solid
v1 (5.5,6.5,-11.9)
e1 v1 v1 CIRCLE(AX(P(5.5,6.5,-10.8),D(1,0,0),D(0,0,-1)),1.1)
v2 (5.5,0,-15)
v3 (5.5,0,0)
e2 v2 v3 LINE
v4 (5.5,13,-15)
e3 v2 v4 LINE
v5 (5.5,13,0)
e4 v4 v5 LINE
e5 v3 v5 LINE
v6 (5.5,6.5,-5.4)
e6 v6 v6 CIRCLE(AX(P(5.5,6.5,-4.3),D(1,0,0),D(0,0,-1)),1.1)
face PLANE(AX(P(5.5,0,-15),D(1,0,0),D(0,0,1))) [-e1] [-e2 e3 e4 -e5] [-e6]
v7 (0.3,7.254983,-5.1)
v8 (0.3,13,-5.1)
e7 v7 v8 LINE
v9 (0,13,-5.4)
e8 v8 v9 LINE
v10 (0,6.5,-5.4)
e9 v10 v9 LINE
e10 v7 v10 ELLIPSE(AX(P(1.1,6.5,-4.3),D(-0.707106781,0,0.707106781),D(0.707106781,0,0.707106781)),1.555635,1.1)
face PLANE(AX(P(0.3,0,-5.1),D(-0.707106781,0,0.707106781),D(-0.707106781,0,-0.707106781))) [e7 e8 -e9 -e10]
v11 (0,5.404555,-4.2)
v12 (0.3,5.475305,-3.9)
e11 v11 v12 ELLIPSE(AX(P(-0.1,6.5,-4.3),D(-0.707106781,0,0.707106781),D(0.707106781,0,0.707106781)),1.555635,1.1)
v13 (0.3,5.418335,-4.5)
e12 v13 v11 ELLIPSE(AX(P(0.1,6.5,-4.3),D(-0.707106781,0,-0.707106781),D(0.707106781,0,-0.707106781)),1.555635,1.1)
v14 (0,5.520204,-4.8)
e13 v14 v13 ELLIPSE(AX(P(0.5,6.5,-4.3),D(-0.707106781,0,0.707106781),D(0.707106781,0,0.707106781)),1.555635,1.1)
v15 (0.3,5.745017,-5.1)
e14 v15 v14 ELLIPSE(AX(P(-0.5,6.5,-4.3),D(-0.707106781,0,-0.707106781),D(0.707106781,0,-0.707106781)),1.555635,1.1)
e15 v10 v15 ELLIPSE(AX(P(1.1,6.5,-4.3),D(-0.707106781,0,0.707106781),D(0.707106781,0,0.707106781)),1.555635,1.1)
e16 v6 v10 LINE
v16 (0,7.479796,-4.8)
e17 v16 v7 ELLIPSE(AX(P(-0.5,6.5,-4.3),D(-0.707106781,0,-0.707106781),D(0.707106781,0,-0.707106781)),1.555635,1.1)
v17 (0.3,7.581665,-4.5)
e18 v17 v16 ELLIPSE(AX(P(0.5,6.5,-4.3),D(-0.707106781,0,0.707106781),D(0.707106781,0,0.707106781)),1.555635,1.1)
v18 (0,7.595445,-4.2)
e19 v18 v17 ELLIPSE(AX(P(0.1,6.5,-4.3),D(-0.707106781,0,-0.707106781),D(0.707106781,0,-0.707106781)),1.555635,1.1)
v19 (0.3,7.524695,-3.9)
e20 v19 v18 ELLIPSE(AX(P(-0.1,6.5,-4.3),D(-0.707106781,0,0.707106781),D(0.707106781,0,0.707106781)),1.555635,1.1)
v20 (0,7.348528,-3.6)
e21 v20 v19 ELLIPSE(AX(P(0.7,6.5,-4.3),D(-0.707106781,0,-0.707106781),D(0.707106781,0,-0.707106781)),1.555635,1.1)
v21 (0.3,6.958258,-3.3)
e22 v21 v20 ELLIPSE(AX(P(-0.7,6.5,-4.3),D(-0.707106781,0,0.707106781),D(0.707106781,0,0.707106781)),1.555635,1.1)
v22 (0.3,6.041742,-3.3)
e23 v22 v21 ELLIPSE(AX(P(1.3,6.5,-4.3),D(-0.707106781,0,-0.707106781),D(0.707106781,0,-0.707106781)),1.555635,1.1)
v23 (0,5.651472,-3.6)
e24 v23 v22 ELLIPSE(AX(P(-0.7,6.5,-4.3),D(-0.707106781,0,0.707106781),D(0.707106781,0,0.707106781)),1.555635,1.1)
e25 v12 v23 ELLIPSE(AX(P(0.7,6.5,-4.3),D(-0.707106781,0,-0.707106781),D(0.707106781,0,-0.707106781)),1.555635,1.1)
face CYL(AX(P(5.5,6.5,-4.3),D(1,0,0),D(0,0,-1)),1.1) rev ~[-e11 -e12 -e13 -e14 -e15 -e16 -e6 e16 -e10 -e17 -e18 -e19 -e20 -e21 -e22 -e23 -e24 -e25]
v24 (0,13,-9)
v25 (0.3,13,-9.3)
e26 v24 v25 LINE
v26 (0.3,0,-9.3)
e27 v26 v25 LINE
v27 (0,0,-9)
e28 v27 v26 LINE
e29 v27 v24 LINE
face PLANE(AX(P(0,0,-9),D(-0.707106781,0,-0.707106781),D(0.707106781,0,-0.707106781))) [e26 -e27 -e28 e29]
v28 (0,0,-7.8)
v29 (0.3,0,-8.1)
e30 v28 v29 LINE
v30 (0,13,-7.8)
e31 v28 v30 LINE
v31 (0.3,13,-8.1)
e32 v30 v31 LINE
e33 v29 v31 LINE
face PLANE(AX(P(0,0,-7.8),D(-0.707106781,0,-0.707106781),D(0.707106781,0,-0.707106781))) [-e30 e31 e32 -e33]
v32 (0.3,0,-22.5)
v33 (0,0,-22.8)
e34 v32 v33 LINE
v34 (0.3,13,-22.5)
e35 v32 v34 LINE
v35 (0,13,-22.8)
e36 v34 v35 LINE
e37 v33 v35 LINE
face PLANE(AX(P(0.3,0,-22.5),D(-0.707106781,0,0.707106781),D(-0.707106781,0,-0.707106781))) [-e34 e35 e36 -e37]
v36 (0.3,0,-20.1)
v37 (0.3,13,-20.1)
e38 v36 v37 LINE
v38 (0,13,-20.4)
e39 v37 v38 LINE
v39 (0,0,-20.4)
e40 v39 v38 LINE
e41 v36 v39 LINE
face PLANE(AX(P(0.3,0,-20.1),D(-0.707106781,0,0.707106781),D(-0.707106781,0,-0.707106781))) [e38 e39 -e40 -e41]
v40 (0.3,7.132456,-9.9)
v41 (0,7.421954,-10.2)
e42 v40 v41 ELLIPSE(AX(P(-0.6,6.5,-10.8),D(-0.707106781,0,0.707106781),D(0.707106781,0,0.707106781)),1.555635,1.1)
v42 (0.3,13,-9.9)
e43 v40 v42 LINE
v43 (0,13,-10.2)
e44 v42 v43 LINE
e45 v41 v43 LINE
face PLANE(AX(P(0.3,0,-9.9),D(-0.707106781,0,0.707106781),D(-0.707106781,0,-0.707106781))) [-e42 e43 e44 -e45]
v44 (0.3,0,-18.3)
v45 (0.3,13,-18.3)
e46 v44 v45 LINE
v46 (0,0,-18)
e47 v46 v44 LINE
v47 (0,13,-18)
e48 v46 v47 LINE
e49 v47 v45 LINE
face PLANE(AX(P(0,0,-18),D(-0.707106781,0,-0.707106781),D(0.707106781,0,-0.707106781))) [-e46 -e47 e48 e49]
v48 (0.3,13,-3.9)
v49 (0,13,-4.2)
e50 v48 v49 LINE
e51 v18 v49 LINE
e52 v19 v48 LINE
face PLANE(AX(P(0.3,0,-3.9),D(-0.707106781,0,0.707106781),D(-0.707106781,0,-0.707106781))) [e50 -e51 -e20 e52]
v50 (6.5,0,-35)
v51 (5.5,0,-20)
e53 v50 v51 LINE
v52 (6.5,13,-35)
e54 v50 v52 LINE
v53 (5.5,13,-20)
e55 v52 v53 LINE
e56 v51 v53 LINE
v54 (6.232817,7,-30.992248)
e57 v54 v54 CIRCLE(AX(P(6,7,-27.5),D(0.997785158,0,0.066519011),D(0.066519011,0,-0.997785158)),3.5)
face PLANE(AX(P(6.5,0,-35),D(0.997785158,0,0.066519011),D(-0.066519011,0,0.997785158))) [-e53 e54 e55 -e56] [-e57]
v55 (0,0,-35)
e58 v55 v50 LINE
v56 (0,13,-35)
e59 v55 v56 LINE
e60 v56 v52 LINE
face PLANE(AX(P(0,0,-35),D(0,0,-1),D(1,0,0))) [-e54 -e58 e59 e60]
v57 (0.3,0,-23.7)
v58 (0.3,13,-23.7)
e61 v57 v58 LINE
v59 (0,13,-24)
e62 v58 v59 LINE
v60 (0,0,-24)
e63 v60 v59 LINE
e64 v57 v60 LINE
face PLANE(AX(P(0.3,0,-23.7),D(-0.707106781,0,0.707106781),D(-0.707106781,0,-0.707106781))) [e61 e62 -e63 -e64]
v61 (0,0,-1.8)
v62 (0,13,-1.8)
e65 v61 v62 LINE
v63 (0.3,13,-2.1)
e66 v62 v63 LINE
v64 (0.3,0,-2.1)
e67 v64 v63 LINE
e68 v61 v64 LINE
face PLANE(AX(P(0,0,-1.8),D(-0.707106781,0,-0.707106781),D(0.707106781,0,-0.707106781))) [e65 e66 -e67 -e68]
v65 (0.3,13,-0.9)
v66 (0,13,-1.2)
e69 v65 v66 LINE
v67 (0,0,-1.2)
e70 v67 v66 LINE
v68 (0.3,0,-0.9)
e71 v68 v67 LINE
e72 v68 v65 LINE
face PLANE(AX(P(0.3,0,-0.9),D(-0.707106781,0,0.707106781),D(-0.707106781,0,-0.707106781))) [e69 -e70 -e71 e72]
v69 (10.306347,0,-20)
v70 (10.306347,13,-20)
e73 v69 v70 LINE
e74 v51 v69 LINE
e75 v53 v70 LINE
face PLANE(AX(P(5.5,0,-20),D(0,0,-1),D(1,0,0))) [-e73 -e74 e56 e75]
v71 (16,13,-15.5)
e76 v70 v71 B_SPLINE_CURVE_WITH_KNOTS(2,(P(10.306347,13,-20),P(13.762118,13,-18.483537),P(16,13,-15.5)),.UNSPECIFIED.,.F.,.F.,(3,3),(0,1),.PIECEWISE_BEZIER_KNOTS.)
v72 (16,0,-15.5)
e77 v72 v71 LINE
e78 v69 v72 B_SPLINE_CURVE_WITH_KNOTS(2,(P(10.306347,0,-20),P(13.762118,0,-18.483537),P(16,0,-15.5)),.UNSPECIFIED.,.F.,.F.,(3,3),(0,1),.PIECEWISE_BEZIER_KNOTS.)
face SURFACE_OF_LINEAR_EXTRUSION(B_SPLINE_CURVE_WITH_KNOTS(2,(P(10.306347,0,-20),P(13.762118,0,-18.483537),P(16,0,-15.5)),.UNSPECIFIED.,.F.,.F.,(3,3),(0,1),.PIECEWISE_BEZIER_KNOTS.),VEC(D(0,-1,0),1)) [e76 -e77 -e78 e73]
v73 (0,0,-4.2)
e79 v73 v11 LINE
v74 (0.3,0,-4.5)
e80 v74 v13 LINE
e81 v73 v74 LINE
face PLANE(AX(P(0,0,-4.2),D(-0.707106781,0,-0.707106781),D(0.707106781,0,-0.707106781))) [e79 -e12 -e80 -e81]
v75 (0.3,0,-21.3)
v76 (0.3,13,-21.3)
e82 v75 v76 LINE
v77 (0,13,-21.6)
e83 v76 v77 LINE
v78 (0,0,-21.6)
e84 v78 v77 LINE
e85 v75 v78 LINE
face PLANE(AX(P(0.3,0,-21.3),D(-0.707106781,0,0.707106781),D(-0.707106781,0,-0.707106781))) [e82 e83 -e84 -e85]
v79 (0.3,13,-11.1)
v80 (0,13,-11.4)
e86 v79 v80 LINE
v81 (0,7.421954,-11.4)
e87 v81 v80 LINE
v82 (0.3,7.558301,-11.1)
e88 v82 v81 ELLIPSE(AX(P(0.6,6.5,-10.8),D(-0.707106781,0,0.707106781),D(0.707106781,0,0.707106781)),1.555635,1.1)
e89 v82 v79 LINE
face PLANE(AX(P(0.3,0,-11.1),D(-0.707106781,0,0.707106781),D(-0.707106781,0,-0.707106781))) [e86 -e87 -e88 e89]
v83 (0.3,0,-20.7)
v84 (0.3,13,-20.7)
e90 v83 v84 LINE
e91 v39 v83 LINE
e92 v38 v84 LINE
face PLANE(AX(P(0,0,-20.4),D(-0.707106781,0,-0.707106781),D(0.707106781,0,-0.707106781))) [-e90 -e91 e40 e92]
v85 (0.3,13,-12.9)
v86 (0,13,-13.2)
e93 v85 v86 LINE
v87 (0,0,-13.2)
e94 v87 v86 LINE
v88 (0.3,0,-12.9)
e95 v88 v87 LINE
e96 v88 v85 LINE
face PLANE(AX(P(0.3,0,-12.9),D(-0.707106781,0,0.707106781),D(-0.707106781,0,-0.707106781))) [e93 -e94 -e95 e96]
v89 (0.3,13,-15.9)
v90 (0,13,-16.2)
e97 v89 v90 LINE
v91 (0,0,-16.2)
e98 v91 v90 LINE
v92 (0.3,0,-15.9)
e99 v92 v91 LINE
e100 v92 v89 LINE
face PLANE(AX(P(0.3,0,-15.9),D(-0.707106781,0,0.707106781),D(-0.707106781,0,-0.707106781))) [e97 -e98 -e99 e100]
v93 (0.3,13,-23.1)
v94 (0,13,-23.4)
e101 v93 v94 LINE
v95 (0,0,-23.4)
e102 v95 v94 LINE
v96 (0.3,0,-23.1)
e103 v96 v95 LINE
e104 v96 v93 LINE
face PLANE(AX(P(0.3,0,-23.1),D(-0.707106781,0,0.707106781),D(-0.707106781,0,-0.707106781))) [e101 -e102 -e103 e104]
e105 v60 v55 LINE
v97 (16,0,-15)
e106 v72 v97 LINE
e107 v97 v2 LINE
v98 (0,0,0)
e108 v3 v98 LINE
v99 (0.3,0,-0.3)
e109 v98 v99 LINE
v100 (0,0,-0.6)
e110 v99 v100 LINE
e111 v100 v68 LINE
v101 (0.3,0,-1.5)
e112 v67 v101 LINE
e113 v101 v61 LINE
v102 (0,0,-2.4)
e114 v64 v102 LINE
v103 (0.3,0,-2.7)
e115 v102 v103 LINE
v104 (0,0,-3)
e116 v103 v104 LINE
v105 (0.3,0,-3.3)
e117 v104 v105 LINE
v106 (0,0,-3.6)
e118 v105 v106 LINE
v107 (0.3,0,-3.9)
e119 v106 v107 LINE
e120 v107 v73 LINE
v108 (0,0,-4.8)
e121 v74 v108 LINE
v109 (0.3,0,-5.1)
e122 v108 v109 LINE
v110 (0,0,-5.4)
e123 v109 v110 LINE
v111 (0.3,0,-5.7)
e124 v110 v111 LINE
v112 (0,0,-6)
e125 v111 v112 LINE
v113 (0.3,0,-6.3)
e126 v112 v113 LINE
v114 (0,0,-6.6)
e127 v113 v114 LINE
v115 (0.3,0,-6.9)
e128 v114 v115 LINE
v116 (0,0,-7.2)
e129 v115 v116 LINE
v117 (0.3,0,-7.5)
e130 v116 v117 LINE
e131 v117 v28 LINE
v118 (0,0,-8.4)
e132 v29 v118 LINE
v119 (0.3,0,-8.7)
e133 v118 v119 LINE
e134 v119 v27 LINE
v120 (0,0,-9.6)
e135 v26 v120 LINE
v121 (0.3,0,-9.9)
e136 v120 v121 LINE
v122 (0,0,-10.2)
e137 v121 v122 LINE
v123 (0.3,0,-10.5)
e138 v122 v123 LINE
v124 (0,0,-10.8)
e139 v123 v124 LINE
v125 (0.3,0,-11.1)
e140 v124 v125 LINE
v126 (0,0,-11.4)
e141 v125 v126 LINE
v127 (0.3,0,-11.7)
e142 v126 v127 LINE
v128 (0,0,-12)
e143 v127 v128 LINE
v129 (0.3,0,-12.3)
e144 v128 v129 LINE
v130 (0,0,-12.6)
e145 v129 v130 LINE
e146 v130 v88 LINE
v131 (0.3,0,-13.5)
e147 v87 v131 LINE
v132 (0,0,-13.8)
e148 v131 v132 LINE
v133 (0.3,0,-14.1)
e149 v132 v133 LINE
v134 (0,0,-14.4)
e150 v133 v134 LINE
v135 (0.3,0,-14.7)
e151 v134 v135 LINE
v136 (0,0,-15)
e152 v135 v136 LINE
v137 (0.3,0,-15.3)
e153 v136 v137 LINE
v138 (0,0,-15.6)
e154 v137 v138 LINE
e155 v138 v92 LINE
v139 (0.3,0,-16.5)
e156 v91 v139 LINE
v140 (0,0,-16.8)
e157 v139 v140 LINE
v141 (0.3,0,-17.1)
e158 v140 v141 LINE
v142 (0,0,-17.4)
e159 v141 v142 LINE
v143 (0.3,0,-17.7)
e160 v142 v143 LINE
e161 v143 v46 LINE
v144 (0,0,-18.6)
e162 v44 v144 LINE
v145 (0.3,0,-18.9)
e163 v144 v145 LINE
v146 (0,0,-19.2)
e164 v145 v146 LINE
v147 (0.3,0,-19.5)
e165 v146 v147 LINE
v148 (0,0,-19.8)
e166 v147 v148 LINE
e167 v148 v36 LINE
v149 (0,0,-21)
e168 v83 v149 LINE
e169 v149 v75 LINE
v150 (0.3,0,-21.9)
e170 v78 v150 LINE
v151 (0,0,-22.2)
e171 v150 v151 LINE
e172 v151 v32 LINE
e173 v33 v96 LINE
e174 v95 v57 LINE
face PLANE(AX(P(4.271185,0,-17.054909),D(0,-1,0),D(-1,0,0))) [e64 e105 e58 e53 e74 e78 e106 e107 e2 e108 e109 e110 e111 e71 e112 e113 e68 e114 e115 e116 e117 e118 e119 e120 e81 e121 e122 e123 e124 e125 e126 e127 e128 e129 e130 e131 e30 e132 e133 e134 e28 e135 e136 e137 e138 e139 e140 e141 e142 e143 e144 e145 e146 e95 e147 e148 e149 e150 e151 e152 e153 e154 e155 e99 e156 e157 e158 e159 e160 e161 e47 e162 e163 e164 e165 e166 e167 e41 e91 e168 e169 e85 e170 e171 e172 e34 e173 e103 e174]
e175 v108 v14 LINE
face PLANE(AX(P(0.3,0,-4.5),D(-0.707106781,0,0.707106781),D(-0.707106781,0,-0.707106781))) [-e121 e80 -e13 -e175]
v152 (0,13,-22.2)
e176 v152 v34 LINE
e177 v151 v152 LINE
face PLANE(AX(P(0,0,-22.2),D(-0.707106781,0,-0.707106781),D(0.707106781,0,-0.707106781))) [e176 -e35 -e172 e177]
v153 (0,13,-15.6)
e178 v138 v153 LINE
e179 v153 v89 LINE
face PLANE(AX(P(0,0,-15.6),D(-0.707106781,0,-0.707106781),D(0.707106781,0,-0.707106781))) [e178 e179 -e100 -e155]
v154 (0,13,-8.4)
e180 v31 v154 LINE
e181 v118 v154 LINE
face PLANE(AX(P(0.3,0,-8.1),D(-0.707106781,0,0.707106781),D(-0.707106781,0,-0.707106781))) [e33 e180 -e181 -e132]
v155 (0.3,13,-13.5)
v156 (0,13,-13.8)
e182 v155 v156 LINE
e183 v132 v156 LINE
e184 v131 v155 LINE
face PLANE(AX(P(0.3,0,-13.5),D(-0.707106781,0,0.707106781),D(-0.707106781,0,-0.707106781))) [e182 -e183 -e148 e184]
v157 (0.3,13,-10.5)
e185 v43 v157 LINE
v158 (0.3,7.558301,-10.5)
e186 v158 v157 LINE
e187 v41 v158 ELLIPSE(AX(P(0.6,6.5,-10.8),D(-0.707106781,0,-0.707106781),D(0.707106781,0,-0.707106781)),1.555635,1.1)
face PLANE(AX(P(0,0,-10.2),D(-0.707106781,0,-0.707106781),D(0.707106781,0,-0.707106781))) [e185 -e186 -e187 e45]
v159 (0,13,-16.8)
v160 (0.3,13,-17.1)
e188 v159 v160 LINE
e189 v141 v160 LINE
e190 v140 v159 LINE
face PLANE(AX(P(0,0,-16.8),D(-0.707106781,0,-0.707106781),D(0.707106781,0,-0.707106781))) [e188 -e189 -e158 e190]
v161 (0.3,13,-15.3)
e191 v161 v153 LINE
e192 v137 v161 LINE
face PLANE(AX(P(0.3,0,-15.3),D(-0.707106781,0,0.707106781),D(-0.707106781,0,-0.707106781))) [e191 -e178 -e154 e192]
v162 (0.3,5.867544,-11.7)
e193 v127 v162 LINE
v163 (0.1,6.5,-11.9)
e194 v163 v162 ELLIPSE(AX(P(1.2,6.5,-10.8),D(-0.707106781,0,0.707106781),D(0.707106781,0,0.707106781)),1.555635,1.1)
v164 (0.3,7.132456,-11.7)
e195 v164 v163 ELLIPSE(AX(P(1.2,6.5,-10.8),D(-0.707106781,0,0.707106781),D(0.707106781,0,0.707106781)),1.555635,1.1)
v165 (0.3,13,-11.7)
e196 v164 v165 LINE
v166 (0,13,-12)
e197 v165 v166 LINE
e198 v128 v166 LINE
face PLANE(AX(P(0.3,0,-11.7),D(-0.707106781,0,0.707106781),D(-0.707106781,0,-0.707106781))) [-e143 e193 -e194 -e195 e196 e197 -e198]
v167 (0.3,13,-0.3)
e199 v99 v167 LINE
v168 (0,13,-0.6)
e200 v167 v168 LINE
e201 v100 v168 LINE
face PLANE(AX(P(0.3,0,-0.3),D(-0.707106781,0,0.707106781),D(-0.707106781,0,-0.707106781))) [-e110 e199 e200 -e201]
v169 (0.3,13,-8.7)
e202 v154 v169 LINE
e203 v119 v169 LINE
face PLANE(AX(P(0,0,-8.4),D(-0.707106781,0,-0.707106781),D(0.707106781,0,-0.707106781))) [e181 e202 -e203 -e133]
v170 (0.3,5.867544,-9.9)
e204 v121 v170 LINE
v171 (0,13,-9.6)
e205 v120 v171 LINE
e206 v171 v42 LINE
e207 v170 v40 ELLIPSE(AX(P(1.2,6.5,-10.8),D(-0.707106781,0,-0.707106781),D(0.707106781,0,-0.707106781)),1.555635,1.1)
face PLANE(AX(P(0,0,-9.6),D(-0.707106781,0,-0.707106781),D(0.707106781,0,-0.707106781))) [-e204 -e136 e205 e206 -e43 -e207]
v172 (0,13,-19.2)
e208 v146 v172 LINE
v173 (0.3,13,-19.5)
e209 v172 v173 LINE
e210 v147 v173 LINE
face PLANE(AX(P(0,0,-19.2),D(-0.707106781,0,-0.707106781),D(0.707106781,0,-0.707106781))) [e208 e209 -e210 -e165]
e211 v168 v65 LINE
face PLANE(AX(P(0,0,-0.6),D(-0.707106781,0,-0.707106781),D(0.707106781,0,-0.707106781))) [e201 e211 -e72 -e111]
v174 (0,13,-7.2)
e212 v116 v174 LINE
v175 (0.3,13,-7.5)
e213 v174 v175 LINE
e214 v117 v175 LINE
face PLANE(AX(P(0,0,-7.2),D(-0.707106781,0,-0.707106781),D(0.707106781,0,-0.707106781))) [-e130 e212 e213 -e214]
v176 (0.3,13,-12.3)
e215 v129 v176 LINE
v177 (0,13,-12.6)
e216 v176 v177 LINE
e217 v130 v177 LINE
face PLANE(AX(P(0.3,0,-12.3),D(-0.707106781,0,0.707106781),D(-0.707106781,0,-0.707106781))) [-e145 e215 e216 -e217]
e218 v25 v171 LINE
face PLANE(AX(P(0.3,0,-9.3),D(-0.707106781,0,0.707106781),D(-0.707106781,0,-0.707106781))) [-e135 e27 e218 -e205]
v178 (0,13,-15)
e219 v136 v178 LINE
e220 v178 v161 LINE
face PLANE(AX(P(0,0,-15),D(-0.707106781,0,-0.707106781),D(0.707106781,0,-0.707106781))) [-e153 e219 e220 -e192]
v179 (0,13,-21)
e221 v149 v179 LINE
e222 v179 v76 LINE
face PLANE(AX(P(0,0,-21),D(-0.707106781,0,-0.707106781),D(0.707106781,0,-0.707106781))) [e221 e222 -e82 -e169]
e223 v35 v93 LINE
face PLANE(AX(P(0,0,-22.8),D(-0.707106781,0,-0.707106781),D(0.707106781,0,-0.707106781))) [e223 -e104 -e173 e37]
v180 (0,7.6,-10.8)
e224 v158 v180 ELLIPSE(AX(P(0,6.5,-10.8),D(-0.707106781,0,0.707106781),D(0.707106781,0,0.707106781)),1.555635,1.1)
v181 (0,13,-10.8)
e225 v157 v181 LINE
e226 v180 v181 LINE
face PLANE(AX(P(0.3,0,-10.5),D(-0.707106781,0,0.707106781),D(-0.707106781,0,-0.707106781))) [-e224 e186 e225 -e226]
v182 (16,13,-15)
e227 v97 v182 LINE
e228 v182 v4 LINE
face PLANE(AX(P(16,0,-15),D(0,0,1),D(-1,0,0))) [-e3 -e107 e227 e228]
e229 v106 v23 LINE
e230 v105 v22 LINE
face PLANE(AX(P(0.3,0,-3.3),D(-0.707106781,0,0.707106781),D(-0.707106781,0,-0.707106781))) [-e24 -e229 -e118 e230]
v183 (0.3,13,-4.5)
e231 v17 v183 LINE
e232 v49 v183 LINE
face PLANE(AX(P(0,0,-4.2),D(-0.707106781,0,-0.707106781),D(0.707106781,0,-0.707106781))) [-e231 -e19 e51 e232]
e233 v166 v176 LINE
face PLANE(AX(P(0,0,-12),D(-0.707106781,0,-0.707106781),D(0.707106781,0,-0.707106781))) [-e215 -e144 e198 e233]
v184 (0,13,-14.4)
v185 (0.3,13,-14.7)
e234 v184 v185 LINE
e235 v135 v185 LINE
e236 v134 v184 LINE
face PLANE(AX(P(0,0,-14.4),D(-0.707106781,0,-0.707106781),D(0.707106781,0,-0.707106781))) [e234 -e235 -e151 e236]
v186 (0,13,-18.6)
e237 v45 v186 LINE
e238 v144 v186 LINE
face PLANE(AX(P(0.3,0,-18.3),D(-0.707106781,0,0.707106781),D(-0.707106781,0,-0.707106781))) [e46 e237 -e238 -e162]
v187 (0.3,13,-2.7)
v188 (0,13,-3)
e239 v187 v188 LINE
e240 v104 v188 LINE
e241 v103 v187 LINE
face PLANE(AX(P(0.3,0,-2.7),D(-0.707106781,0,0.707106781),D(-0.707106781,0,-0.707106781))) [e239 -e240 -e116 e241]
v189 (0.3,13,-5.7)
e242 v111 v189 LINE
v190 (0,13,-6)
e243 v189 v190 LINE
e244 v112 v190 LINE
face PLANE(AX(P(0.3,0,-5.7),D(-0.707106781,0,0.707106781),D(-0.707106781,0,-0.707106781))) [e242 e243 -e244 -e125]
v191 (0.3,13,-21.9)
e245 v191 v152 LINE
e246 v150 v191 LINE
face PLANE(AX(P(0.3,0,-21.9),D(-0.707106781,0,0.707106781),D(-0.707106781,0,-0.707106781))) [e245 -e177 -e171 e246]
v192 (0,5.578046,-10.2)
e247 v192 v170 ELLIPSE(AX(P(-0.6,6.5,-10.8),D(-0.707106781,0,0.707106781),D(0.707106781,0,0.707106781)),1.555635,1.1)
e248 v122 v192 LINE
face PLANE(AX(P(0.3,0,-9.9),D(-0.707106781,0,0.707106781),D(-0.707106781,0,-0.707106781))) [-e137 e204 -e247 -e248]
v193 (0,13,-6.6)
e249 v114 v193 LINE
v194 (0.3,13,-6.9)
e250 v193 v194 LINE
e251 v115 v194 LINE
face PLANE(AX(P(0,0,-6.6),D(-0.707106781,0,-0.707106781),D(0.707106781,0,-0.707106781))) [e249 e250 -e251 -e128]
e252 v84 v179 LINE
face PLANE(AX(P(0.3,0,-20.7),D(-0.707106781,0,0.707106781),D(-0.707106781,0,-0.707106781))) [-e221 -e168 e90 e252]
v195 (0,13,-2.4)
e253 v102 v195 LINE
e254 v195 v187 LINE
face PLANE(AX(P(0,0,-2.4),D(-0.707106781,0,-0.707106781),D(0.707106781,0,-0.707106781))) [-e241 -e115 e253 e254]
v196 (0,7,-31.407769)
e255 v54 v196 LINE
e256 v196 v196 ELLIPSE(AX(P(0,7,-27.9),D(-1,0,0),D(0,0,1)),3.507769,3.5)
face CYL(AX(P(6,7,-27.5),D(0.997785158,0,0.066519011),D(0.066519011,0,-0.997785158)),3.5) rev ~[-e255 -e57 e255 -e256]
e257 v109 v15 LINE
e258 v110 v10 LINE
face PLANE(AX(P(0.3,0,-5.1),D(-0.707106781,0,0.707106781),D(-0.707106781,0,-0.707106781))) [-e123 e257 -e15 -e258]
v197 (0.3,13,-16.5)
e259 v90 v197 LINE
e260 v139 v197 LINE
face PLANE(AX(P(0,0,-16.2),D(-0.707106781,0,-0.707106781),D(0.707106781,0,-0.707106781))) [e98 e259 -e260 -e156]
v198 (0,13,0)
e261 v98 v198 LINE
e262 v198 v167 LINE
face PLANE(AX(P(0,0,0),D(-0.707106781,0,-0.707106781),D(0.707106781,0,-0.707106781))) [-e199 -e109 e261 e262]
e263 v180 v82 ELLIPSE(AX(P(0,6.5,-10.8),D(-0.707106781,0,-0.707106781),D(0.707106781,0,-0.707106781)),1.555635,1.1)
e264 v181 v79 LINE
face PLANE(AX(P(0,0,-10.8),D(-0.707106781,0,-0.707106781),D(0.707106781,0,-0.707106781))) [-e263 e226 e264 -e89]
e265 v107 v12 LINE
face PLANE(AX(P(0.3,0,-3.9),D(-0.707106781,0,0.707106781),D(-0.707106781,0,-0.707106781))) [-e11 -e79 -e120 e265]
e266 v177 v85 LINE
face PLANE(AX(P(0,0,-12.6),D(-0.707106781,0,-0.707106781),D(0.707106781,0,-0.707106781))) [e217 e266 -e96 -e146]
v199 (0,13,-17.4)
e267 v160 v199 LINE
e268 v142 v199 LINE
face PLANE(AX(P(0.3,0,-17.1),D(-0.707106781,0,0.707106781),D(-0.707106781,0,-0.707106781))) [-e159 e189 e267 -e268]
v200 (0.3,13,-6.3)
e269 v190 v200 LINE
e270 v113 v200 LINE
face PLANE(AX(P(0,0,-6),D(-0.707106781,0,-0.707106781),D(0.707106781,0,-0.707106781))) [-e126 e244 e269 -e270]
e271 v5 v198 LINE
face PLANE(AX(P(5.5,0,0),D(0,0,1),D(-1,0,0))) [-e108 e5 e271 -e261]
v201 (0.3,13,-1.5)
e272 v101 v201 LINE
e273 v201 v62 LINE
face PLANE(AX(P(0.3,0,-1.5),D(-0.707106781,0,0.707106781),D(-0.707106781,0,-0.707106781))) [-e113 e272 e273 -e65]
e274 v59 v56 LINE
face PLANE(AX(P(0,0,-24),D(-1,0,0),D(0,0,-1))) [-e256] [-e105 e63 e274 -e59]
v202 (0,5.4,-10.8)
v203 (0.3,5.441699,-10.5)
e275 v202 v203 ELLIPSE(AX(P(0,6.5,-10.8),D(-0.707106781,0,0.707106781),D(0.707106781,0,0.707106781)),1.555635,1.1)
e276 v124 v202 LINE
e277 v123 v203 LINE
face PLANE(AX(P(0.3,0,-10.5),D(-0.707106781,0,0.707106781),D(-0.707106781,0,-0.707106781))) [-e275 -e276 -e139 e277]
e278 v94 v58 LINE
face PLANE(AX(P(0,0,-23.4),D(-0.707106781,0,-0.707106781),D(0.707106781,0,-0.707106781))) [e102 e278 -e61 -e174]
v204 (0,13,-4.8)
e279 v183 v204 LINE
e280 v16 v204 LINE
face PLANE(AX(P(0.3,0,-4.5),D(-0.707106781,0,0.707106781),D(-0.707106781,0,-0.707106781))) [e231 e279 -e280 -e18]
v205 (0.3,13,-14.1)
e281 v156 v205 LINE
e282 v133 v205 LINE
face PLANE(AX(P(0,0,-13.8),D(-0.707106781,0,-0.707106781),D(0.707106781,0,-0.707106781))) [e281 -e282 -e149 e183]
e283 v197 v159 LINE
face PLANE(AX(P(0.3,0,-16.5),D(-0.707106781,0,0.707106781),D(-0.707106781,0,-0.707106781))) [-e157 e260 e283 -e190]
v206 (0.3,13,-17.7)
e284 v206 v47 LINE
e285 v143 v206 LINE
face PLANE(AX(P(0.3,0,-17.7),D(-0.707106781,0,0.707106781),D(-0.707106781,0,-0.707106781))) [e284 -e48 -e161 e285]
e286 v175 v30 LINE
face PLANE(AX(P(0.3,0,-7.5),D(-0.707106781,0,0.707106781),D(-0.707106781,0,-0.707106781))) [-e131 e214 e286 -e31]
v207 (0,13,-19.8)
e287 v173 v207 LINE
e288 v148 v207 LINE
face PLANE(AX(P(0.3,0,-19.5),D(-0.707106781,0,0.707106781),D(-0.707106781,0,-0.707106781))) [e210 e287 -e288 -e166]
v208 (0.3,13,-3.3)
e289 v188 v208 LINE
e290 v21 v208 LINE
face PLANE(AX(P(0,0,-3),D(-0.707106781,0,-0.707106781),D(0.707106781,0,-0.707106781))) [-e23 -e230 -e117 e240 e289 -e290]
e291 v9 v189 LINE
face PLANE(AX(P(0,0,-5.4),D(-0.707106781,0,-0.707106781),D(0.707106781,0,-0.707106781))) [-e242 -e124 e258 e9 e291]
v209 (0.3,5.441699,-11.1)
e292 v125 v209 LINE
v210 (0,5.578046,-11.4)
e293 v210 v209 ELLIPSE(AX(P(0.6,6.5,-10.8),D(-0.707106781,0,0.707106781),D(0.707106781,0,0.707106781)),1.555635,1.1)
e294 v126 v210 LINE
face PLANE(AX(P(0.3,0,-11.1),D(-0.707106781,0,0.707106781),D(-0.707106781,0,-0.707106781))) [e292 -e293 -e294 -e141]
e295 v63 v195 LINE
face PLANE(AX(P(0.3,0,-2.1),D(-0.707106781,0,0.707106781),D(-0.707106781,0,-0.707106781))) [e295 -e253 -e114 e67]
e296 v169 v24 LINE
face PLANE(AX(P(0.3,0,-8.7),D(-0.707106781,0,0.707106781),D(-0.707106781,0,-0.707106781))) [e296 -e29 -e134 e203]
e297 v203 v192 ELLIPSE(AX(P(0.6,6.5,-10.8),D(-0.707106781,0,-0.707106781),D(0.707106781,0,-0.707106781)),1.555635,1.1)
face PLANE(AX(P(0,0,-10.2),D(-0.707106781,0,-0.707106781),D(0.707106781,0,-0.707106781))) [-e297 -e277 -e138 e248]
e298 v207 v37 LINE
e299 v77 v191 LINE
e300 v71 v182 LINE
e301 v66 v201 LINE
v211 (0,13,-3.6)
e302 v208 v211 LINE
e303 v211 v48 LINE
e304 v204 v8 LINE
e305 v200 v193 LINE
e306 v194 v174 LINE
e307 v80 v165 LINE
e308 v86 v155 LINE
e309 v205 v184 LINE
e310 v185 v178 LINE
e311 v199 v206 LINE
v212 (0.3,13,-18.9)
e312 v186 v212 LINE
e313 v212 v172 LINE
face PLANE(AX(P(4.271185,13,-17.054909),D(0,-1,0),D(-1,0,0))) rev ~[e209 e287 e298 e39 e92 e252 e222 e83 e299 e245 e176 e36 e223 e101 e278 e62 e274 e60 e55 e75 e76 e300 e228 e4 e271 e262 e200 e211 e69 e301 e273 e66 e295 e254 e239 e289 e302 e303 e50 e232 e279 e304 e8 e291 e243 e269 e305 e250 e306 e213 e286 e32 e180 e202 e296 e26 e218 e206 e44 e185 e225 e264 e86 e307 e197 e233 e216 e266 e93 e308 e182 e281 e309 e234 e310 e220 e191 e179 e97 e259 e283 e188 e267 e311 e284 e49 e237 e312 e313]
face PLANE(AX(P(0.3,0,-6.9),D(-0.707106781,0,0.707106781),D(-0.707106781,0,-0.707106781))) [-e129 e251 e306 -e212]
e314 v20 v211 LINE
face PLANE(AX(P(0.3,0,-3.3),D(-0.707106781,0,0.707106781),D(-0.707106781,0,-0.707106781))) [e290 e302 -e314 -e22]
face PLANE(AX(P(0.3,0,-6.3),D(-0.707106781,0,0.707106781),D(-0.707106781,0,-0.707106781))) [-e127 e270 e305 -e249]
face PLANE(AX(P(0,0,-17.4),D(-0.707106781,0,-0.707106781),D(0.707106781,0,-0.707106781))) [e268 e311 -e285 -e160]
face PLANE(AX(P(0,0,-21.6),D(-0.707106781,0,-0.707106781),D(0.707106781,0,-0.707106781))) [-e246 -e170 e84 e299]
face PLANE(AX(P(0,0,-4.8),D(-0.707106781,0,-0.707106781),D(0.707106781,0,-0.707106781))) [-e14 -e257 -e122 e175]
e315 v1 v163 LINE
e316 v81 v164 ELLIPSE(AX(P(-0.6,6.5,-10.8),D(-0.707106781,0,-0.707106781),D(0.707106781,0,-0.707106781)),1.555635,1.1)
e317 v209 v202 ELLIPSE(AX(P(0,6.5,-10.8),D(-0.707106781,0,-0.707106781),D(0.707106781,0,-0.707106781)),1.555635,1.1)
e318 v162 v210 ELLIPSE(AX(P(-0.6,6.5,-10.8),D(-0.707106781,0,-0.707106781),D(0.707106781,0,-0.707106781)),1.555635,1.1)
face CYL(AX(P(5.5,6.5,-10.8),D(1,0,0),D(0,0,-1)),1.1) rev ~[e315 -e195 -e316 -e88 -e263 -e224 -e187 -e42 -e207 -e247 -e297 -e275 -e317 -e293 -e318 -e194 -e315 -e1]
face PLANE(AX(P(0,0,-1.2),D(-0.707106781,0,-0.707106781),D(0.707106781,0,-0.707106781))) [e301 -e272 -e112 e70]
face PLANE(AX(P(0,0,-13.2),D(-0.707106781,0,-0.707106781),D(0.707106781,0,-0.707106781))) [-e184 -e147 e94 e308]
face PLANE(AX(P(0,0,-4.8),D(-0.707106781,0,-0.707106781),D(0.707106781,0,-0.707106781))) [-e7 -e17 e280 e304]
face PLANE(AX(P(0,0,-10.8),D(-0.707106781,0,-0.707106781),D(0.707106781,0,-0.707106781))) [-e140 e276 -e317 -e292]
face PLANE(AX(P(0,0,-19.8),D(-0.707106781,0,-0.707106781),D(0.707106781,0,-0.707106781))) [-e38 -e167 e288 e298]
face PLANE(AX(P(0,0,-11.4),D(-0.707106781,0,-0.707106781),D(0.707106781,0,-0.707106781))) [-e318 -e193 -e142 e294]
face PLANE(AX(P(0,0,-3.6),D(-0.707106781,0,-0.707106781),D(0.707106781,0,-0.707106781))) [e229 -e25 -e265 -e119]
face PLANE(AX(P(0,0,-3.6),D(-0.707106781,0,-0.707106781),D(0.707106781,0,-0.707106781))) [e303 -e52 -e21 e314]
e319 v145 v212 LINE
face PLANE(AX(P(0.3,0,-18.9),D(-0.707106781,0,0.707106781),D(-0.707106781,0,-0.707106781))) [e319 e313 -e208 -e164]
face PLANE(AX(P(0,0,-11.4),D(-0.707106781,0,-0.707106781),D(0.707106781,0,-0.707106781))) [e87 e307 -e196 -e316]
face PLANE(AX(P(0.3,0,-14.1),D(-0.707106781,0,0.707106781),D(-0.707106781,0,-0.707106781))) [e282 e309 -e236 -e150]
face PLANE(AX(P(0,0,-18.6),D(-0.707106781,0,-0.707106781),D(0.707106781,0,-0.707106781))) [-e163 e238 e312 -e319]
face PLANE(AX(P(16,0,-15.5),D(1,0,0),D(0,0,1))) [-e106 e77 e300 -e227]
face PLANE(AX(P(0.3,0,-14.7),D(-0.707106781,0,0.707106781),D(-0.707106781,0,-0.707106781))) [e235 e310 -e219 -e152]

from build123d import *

# Parameters (mm, degrees)
EXTRUDE_1_DEPTH     = 13
SKETCH_4_R          = 3.5
CUT_EXTRUDE_3_DEPTH = 40.419530037
SKETCH_5_R          = 1.1
CUT_EXTRUDE_4_DEPTH = 10


with BuildPart() as part:
    # 草图1 → 凸台-拉伸1 (new body)
    with BuildSketch(Plane(origin=(0, 0, 0), x_dir=(1, 0, 0), z_dir=(0, 1, 0))):
        with BuildLine():
            Line((0, 35), (6.5, 35))
            Line((6.5, 35), (5.5, 20))
            Line((5.5, 20), (10.30634728, 20))
            add(Edge.make_bspline(
                [(10.30634728, 20), (13.762117506, 18.48353704), (16, 15.5)],
                knots=[0, 0, 0, 1, 1, 1], degree=2))
            Line((16, 15.5), (16, 15))
            Line((16, 15), (5.5, 15))
            Line((5.5, 15), (5.5, 0))
            Line((5.5, 0), (0, 0))
            Line((0, 0), (0.3, 0.3))
            Line((0.3, 0.3), (0, 0.6))
            Line((0, 0.6), (0.3, 0.9))
            Line((0.3, 0.9), (0, 1.2))
            Line((0, 1.2), (0.3, 1.5))
            Line((0.3, 1.5), (0, 1.8))
            Line((0, 1.8), (0.3, 2.1))
            Line((0.3, 2.1), (0, 2.4))
            Line((0, 2.4), (0.3, 2.7))
            Line((0.3, 2.7), (0, 3))
            Line((0, 3), (0.3, 3.3))
            Line((0.3, 3.3), (0, 3.6))
            Line((0, 3.6), (0.3, 3.9))
            Line((0.3, 3.9), (0, 4.2))
            Line((0, 4.2), (0.3, 4.5))
            Line((0.3, 4.5), (0, 4.8))
            Line((0, 4.8), (0.3, 5.1))
            Line((0.3, 5.1), (0, 5.4))
            Line((0, 5.4), (0.3, 5.7))
            Line((0.3, 5.7), (0, 6))
            Line((0, 6), (0.3, 6.3))
            Line((0.3, 6.3), (0, 6.6))
            Line((0, 6.6), (0.3, 6.9))
            Line((0.3, 6.9), (0, 7.2))
            Line((0, 7.2), (0.3, 7.5))
            Line((0.3, 7.5), (0, 7.8))
            Line((0, 7.8), (0.3, 8.1))
            Line((0.3, 8.1), (0, 8.4))
            Line((0, 8.4), (0.3, 8.7))
            Line((0.3, 8.7), (0, 9))
            Line((0, 9), (0.3, 9.3))
            Line((0.3, 9.3), (0, 9.6))
            Line((0, 9.6), (0.3, 9.9))
            Line((0.3, 9.9), (0, 10.2))
            Line((0, 10.2), (0.3, 10.5))
            Line((0.3, 10.5), (0, 10.8))
            Line((0, 10.8), (0.3, 11.1))
            Line((0.3, 11.1), (0, 11.4))
            Line((0, 11.4), (0.3, 11.7))
            Line((0.3, 11.7), (0, 12))
            Line((0, 12), (0.3, 12.3))
            Line((0.3, 12.3), (0, 12.6))
            Line((0, 12.6), (0.3, 12.9))
            Line((0.3, 12.9), (0, 13.2))
            Line((0, 13.2), (0.3, 13.5))
            Line((0.3, 13.5), (0, 13.8))
            Line((0, 13.8), (0.3, 14.1))
            Line((0.3, 14.1), (0, 14.4))
            Line((0, 14.4), (0.3, 14.7))
            Line((0.3, 14.7), (0, 15))
            Line((0, 15), (0.3, 15.3))
            Line((0.3, 15.3), (0, 15.6))
            Line((0, 15.6), (0.3, 15.9))
            Line((0.3, 15.9), (0, 16.2))
            Line((0, 16.2), (0.3, 16.5))
            Line((0.3, 16.5), (0, 16.8))
            Line((0, 16.8), (0.3, 17.1))
            Line((0.3, 17.1), (0, 17.4))
            Line((0, 17.4), (0.3, 17.7))
            Line((0.3, 17.7), (0, 18))
            Line((0, 18), (0.3, 18.3))
            Line((0.3, 18.3), (0, 18.6))
            Line((0, 18.6), (0.3, 18.9))
            Line((0.3, 18.9), (0, 19.2))
            Line((0, 19.2), (0.3, 19.5))
            Line((0.3, 19.5), (0, 19.8))
            Line((0, 19.8), (0.3, 20.1))
            Line((0.3, 20.1), (0, 20.4))
            Line((0, 20.4), (0.3, 20.7))
            Line((0.3, 20.7), (0, 21))
            Line((0, 21), (0.3, 21.3))
            Line((0.3, 21.3), (0, 21.6))
            Line((0, 21.6), (0.3, 21.9))
            Line((0.3, 21.9), (0, 22.2))
            Line((0, 22.2), (0.3, 22.5))
            Line((0.3, 22.5), (0, 22.8))
            Line((0, 22.8), (0.3, 23.1))
            Line((0.3, 23.1), (0, 23.4))
            Line((0, 23.4), (0.3, 23.7))
            Line((0.3, 23.7), (0, 24))
            Line((0, 24), (0, 35))
        make_face()
    extrude(amount=EXTRUDE_1_DEPTH)

    # 草图4 → 切除-拉伸3 (cut, through all)
    with BuildSketch(Plane(origin=(4.148230088, 0, 0.276548673), x_dir=(0.06651901052377392, 0, -0.9977851578566089), z_dir=(0.9977851578566089, 0, 0.06651901052377392))):
        with Locations((27.838205904, 7)):
            Circle(SKETCH_4_R)
    extrude(amount=-CUT_EXTRUDE_3_DEPTH, mode=Mode.SUBTRACT)

    # 草图5 → 切除-拉伸4 (cut)
    with BuildSketch(Plane(origin=(5.5, 0, 0), x_dir=(0, 0, -1), z_dir=(1, 0, 0))):
        with Locations((10.8, 6.5)):
            Circle(SKETCH_5_R)
        with Locations((4.3, 6.5)):
            Circle(SKETCH_5_R)
    extrude(amount=-CUT_EXTRUDE_4_DEPTH, mode=Mode.SUBTRACT)


solid = part.part
